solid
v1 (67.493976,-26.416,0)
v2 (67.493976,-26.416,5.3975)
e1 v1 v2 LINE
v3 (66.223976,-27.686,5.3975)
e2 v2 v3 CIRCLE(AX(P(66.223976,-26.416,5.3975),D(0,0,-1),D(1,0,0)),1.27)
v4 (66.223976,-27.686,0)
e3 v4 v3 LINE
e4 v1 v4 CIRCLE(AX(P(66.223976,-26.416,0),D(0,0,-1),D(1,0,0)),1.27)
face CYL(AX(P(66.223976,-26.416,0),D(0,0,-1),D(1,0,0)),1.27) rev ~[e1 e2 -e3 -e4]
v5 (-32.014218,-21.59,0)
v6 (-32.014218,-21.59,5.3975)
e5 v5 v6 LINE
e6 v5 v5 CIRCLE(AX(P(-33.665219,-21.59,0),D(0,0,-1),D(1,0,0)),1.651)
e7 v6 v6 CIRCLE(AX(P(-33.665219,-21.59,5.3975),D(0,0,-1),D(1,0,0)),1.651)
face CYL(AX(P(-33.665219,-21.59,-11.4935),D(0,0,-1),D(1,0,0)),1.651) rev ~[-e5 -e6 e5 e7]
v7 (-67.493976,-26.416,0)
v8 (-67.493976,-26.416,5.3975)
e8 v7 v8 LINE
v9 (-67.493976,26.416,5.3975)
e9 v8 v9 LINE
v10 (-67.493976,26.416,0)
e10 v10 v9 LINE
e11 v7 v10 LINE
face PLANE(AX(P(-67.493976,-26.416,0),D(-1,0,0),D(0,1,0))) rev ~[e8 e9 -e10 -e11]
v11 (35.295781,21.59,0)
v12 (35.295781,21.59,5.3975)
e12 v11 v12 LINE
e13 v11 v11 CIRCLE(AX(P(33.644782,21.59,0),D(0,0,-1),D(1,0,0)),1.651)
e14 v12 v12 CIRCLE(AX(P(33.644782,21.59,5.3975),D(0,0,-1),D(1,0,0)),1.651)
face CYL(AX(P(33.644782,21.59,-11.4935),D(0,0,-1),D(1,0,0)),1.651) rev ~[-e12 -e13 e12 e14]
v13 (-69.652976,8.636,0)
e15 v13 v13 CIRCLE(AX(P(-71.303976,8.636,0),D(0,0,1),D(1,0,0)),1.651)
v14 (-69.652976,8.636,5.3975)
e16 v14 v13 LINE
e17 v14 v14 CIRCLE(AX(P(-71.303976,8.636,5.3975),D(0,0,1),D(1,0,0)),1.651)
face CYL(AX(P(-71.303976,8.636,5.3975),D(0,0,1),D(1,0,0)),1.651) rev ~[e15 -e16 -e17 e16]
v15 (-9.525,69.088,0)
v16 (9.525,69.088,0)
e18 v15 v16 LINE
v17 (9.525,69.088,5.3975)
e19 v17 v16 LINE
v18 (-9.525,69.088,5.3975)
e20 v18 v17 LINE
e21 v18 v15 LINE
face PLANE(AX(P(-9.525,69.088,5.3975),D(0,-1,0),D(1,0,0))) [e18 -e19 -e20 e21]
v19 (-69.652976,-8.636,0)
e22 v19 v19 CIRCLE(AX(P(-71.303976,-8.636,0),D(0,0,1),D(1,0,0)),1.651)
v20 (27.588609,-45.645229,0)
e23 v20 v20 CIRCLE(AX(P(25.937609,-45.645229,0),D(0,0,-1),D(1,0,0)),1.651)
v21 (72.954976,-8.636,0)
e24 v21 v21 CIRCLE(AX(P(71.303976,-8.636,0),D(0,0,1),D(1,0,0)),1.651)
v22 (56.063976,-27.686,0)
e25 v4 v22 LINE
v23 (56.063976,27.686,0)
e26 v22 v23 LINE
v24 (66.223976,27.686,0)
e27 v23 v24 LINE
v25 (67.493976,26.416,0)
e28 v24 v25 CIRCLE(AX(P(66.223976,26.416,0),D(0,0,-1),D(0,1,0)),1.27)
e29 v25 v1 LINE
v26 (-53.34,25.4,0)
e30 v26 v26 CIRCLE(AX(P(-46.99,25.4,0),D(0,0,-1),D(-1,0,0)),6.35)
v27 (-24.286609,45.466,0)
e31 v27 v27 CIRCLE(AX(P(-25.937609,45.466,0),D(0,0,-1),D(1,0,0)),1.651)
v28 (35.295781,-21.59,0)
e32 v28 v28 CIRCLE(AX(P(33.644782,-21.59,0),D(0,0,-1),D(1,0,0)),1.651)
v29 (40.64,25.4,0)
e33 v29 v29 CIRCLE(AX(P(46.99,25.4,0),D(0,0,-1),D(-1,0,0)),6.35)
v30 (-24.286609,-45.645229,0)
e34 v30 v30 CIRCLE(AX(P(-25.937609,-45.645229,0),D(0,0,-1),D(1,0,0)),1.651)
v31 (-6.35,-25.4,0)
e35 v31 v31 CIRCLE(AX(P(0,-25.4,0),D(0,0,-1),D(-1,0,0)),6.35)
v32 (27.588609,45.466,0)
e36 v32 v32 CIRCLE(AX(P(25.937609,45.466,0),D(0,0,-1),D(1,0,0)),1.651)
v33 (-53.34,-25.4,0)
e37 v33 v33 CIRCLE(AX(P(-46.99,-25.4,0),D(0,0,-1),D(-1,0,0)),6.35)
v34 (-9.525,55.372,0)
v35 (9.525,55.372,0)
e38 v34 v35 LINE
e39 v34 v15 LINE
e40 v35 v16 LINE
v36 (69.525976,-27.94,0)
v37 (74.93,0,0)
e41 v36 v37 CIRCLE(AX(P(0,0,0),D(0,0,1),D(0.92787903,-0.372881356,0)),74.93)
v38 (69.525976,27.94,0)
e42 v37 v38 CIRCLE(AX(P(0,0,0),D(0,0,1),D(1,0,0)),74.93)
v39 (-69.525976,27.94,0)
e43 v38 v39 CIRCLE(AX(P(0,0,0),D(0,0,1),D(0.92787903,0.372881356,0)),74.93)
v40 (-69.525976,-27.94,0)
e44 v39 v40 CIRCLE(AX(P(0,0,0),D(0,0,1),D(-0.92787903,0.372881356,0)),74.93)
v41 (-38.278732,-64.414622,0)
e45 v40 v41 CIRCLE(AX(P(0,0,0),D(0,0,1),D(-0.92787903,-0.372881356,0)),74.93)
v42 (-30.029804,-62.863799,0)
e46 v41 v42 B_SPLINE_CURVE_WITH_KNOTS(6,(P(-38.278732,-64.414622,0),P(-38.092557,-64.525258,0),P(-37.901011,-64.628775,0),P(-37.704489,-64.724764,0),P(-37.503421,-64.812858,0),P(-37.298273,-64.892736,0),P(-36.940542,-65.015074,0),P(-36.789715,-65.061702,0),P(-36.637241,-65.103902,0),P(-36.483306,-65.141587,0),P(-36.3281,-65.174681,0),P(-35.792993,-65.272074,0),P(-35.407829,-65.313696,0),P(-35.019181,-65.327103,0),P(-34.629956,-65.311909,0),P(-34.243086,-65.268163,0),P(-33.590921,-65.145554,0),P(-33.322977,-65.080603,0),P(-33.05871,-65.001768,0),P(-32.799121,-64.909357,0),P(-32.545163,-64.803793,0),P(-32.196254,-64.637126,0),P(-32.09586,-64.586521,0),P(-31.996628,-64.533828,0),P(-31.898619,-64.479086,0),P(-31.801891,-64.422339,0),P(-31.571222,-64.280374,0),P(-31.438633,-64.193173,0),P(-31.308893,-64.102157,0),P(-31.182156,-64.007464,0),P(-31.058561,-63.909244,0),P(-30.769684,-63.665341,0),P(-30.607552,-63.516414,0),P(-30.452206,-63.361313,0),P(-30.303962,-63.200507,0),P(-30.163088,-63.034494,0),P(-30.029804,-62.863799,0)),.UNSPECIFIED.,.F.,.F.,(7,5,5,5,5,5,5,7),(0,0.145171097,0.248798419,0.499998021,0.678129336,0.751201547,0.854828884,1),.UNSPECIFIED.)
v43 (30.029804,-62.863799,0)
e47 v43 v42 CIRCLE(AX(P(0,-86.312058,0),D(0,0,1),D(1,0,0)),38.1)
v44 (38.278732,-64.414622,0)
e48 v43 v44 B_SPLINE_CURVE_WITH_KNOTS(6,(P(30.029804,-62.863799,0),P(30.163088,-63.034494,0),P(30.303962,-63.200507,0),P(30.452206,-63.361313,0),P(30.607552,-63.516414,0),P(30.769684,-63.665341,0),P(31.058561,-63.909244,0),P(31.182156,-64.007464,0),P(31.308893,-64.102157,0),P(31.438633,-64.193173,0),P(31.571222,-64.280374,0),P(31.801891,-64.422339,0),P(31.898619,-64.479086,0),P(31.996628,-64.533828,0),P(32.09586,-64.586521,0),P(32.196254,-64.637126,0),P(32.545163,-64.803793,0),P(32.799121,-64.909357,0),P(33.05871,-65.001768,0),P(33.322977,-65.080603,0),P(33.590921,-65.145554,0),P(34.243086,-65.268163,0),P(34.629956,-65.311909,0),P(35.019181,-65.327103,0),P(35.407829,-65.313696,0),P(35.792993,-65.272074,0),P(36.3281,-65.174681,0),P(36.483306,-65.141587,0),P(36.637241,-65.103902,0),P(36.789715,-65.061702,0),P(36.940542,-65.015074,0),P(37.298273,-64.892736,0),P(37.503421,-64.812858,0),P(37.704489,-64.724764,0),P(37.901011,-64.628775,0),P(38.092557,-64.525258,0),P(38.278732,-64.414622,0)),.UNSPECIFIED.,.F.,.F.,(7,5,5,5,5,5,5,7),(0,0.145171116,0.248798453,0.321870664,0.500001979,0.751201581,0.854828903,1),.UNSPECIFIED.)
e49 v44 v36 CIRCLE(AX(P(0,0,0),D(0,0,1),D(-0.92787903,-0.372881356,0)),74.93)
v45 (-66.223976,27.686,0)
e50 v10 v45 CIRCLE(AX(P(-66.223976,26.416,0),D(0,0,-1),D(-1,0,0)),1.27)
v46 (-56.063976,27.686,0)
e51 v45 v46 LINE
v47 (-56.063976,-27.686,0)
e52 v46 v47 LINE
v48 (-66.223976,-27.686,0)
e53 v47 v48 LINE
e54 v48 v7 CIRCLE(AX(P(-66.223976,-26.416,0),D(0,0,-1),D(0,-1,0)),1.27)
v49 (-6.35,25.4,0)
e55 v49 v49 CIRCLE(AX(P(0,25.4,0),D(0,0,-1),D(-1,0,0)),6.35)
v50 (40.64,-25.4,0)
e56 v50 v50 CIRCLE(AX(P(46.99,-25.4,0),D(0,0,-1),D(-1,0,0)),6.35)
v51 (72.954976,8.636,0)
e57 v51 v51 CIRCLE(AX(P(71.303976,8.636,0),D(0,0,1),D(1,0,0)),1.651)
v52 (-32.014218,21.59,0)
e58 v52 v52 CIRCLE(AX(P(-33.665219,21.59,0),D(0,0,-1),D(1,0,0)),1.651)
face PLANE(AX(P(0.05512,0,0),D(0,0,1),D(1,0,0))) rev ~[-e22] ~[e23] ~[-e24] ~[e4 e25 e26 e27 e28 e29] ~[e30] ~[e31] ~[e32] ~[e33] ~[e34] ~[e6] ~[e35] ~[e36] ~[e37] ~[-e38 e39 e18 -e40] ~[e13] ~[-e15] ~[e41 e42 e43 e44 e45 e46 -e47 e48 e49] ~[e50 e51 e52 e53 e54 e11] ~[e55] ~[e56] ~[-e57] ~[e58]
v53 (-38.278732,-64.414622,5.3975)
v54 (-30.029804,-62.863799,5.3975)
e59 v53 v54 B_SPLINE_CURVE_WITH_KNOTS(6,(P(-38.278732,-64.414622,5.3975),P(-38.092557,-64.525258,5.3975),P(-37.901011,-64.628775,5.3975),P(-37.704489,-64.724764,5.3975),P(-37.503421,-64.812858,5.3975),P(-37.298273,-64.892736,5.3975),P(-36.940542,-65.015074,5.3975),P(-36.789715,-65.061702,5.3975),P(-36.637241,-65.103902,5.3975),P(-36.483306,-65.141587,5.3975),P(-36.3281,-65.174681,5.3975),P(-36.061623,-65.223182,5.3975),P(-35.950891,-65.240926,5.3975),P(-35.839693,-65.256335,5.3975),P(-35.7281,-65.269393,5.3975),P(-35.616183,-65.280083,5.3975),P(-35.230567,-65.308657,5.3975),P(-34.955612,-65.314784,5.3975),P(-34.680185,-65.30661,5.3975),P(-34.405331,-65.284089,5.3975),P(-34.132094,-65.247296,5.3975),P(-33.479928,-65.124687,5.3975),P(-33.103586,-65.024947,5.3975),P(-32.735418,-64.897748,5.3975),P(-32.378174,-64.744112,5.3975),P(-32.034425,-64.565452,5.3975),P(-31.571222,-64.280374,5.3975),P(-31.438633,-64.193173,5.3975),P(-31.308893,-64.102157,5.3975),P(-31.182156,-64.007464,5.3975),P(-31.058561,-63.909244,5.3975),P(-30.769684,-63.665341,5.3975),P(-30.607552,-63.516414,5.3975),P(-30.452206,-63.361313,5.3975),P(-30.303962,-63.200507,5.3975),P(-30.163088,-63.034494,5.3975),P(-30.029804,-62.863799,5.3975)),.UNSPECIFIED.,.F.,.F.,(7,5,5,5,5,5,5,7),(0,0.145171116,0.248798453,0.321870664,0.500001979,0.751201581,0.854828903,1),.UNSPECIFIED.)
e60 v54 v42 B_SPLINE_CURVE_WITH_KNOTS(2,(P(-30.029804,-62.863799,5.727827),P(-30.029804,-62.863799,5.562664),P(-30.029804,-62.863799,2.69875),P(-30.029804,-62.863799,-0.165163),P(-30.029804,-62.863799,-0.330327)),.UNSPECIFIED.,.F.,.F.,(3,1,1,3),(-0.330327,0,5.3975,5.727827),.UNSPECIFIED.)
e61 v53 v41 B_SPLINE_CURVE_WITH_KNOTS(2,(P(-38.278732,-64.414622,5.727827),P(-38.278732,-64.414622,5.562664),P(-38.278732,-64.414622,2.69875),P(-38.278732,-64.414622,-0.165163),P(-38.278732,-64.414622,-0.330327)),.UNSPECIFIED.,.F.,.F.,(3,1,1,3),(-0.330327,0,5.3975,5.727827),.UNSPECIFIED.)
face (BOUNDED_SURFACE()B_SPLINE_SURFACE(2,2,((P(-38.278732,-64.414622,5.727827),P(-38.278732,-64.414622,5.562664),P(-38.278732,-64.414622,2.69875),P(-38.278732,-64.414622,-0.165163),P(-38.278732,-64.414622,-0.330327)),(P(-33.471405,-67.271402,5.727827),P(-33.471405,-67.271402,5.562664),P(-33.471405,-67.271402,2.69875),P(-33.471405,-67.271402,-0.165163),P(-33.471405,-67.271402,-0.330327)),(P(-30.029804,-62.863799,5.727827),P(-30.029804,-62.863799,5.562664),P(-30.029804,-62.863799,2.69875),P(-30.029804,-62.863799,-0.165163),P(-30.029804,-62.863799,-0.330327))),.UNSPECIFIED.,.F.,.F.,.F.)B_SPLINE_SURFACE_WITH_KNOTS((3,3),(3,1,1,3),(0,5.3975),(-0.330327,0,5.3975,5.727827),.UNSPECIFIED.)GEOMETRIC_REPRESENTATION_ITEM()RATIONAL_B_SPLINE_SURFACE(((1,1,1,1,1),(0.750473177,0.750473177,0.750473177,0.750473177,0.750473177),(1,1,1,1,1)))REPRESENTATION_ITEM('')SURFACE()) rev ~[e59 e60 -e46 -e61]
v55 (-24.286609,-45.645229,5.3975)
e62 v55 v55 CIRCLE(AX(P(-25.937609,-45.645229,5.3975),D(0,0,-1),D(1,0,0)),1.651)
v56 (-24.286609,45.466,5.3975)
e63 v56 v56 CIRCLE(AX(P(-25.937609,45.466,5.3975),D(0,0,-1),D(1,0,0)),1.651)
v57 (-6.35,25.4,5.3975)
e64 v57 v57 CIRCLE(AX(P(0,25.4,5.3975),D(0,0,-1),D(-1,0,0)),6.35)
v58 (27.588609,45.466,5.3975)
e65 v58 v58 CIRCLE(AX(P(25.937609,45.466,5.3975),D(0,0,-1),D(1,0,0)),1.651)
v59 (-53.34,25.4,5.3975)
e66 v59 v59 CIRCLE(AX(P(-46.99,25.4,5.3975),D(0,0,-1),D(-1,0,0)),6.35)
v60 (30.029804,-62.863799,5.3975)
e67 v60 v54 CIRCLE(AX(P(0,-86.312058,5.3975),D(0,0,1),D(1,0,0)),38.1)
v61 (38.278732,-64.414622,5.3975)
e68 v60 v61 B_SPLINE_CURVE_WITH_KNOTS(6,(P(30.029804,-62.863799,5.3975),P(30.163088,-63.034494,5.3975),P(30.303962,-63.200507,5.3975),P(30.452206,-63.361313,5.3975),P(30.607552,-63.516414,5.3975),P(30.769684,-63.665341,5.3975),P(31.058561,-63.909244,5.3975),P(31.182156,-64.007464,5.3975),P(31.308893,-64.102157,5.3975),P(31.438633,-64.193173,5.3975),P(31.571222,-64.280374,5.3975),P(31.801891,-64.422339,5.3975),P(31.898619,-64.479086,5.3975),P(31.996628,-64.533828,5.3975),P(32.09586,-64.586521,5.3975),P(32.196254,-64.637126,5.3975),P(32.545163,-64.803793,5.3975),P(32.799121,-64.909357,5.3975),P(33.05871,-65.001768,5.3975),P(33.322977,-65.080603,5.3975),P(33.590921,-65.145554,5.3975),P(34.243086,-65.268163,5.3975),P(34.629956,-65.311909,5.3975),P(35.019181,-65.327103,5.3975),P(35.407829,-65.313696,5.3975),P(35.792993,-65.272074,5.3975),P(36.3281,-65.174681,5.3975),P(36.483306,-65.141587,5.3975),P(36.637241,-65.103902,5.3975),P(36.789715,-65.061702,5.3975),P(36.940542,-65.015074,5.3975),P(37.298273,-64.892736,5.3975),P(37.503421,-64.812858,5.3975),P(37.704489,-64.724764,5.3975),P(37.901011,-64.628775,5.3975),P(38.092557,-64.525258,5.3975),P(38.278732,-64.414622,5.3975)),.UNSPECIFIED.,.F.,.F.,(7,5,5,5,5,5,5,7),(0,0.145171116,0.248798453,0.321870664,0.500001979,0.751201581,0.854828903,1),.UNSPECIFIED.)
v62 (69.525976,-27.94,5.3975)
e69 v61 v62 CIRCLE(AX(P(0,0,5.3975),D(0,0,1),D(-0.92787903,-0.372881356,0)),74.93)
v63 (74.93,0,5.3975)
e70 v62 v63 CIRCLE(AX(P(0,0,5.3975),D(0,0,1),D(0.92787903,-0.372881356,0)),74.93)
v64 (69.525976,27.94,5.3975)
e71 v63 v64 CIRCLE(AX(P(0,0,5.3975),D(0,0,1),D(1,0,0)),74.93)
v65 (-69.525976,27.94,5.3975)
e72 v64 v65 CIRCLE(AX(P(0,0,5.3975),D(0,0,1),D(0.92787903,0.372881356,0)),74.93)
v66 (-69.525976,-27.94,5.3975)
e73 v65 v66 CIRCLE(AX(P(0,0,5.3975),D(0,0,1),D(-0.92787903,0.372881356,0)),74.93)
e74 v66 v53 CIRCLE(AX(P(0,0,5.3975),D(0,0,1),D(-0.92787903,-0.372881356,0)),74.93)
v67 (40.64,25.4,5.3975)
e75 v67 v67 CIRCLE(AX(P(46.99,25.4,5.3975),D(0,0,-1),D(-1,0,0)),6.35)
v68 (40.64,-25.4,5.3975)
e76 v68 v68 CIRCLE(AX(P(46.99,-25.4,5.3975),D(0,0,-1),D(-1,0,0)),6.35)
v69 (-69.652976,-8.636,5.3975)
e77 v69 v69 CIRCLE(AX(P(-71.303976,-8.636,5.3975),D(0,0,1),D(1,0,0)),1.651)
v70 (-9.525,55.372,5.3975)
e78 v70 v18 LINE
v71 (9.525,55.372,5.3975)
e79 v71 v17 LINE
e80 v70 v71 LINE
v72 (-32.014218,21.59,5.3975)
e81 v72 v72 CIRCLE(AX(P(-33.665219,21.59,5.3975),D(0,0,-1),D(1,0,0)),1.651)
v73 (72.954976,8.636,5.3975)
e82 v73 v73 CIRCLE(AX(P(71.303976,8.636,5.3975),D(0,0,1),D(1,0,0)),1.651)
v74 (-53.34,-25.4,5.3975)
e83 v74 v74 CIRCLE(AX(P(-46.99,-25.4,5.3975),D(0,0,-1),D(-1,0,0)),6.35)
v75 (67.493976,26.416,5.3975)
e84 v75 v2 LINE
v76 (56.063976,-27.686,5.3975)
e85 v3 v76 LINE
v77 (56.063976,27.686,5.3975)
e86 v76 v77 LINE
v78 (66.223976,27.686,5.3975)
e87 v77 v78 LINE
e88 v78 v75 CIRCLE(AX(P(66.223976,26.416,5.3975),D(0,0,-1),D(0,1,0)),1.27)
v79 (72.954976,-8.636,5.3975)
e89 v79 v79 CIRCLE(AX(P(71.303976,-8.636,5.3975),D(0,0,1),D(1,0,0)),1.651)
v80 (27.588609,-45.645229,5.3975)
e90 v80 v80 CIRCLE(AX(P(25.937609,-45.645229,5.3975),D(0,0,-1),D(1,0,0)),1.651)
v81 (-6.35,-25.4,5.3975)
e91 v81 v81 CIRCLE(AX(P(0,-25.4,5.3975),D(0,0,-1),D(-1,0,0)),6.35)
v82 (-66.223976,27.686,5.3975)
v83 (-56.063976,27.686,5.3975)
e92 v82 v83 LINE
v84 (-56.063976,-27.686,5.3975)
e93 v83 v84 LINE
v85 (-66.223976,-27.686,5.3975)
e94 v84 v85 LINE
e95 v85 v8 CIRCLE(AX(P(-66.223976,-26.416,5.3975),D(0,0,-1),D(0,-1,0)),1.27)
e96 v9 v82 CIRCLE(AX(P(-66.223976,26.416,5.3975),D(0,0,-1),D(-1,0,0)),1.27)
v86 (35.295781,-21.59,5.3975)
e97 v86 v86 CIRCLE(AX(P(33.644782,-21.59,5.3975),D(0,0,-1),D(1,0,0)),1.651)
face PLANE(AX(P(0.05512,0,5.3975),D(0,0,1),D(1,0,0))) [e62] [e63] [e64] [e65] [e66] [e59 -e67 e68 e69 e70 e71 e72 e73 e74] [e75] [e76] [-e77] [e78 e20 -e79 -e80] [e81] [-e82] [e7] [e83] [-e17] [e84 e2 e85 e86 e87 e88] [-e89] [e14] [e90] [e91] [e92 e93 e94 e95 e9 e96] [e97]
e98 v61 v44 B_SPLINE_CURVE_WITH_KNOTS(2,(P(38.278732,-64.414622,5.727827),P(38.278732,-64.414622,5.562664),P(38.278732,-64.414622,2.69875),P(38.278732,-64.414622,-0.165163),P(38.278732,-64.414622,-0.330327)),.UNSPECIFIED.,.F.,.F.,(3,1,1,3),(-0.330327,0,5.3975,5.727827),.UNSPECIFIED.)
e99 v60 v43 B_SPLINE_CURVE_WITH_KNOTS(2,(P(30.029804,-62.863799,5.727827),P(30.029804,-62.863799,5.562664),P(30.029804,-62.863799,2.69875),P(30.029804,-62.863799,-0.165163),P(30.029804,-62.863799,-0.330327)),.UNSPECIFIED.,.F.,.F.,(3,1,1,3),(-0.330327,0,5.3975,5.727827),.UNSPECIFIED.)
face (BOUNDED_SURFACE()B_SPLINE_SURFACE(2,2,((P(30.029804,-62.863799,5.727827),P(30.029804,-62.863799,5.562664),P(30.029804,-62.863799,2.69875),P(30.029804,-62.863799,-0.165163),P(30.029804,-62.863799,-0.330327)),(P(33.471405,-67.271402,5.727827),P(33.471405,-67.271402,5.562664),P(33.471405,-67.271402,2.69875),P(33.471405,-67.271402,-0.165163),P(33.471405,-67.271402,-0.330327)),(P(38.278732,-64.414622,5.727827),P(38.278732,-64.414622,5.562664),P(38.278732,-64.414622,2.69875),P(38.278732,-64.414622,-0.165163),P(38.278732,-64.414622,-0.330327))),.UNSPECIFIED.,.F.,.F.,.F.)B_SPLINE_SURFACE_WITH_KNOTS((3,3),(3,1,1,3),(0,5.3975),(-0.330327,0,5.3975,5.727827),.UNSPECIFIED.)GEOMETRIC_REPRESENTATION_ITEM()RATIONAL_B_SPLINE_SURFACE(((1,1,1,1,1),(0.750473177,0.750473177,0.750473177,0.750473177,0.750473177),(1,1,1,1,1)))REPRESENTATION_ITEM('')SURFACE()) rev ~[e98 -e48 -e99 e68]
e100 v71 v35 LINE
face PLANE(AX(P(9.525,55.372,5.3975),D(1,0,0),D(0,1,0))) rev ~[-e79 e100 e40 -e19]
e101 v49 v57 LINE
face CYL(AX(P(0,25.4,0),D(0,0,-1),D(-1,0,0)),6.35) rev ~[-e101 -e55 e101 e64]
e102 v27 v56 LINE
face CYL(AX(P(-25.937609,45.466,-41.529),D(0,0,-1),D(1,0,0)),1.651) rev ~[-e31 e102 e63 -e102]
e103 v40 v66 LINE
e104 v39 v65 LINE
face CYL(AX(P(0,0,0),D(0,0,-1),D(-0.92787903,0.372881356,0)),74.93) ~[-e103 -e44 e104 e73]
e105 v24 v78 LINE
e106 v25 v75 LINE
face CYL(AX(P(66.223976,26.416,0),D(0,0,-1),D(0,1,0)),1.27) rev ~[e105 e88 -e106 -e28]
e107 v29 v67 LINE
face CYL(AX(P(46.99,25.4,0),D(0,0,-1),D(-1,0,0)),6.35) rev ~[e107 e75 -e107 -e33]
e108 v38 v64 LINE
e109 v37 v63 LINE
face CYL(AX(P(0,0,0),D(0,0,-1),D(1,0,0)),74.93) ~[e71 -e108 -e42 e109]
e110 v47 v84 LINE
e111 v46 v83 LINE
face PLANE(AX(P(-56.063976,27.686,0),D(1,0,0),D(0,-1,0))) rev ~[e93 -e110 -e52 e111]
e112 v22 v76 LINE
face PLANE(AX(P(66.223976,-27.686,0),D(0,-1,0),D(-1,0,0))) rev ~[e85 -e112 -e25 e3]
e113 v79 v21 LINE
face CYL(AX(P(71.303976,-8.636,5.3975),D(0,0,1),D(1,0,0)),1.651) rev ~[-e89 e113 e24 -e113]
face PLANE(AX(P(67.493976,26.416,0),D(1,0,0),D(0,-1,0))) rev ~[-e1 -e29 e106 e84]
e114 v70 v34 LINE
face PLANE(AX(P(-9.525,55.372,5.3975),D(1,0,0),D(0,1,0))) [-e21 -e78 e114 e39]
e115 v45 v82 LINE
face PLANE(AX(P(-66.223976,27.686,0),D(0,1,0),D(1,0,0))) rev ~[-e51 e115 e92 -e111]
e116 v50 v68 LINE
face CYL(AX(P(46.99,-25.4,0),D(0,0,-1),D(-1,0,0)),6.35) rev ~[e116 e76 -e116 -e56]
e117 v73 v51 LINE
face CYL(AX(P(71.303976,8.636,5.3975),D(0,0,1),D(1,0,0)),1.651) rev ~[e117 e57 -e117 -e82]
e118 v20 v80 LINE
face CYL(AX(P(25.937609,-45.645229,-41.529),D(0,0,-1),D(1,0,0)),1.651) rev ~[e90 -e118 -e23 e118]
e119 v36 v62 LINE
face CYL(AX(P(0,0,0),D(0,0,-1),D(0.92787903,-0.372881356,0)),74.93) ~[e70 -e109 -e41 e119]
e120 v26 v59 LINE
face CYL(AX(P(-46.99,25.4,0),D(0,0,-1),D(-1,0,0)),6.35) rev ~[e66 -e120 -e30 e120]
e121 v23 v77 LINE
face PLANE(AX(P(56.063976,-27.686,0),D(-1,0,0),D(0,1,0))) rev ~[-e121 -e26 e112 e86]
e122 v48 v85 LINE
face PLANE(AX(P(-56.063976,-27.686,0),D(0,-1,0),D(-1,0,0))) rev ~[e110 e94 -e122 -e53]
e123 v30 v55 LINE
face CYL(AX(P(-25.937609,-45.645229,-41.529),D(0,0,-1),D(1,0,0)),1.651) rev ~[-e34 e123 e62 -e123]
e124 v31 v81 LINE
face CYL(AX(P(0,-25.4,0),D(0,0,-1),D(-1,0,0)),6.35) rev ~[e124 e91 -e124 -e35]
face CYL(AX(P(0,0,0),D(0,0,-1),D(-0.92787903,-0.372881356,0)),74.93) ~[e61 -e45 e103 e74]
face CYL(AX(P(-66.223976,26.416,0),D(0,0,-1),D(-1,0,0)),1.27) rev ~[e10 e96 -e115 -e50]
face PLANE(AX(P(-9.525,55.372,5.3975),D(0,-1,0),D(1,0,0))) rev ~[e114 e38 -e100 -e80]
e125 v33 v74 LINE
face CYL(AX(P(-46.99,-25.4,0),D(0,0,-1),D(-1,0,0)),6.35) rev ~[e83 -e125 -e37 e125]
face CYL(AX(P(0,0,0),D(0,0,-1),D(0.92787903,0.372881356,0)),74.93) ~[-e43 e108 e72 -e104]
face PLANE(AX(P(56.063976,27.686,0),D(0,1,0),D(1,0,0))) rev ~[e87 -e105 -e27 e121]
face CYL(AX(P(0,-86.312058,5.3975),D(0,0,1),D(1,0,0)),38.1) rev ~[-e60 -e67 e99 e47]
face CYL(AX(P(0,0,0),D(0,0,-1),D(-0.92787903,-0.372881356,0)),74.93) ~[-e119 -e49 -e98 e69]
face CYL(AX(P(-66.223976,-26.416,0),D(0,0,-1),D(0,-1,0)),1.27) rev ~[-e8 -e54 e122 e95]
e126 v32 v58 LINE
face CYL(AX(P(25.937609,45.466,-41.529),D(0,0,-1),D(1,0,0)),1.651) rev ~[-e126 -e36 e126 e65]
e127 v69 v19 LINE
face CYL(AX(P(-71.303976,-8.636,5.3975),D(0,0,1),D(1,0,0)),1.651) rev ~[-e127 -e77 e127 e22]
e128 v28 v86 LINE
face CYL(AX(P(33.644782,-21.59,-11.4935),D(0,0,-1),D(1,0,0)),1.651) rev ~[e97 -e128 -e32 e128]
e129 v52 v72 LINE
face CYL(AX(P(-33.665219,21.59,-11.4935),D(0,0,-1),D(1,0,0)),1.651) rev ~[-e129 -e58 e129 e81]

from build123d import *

# Parameters (mm, degrees)
BOSS_EXTRUDE2_DEPTH      = 5.3975
SKETCH2_W                = 19.05
SKETCH2_H                = 13.716
CUT_EXTRUDE1_DEPTH       = 107.104395791
SKETCH3_R                = 38.1
CUT_EXTRUDE2_DEPTH       = 107.104395791
FILLET1_R                = 6.35
SKETCH8_R                = 1.651
CUT_EXTRUDE7_DEPTH       = 75.692
SKETCH10_R               = 1.651
CUT_EXTRUDE9_DEPTH       = 97.79
SKETCH11_R               = 1.651
CUT_EXTRUDE10_DEPTH      = 150.876
SKETCH12_R               = 3.175
CUT_EXTRUDE11_DEPTH      = 103.378
CUT_EXTRUDE11_DEPTH_BACK = 48.768
SKETCH13_R               = 6.35
CUT_EXTRUDE12_DEPTH      = 26.416


with BuildPart() as part:
    # Sketch1 → Boss-Extrude2 (new body)
    with BuildSketch(Plane.XY):
        with BuildLine():
            ThreePointArc((-69.525975721, 27.94), (-74.93, 0), (-69.525975721, -27.94))
            ThreePointArc((-69.525975721, -27.94), (0, -74.93), (69.525975721, -27.94))
            ThreePointArc((69.525975721, -27.94), (73.56658977, -14.228906128), (74.93, 0))
            ThreePointArc((74.93, 0), (73.56658977, 14.228906128), (69.525975721, 27.94))
            ThreePointArc((69.525975721, 27.94), (0, 74.93), (-69.525975721, 27.94))
        make_face()
        with BuildLine():
            ThreePointArc((-67.493975721, 26.416), (-67.122001333, 27.314025612), (-66.223975721, 27.686))
            Line((-66.223975721, 27.686), (-56.063975721, 27.686))
            Line((-56.063975721, 27.686), (-56.063975721, -27.686))
            Line((-56.063975721, -27.686), (-66.223975721, -27.686))
            ThreePointArc((-66.223975721, -27.686), (-67.122001333, -27.314025612), (-67.493975721, -26.416))
            Line((-67.493975721, -26.416), (-67.493975721, 26.416))
        make_face(mode=Mode.SUBTRACT)
        with BuildLine():
            ThreePointArc((66.223975721, 27.686), (67.122001333, 27.314025612), (67.493975721, 26.416))
            Line((67.493975721, 26.416), (67.493975721, -26.416))
            ThreePointArc((67.493975721, -26.416), (67.122001333, -27.314025612), (66.223975721, -27.686))
            Line((66.223975721, -27.686), (56.063975721, -27.686))
            Line((56.063975721, -27.686), (56.063975721, 27.686))
            Line((56.063975721, 27.686), (66.223975721, 27.686))
        make_face(mode=Mode.SUBTRACT)
    extrude(amount=BOSS_EXTRUDE2_DEPTH)

    # Sketch2 → Cut-Extrude1 (cut, through all)
    with BuildSketch(Plane.XY.offset(5.3975)):
        with Locations((0, 62.23)):
            Rectangle(SKETCH2_W, SKETCH2_H)
    extrude(amount=-CUT_EXTRUDE1_DEPTH, mode=Mode.SUBTRACT)

    # Sketch3 → Cut-Extrude2 (cut, through all)
    with BuildSketch(Plane.XY.offset(5.3975)):
        with Locations((0, -86.312058398)):
            Circle(SKETCH3_R)
    extrude(amount=-CUT_EXTRUDE2_DEPTH, mode=Mode.SUBTRACT)

    # Fillet1
    fillet1_edges = [part.edges().sort_by_distance(p)[0] for p in [
        (-33.000960548, -67.271401821, 2.69875),
        (33.000960548, -67.271401821, 2.69875),
    ]]
    fillet(fillet1_edges, radius=FILLET1_R)

    # Sketch8 → Cut-Extrude7 (cut)
    with BuildSketch(Plane(origin=(30.092005081, 4.08352975, -11.4935), x_dir=(-1, 0, 0), z_dir=(0, 0, -1))):
        with Locations(Location((63.757223581, 17.50647025, 0), (0, 0, 180))):
            Circle(SKETCH8_R)
        with Locations(Location((63.757223581, -25.67352975, 0), (0, 0, 180))):
            Circle(SKETCH8_R)
        with Locations(Location((-3.552776419, -25.67352975, 0), (0, 0, 180))):
            Circle(SKETCH8_R)
        with Locations(Location((-3.552776419, 17.50647025, 0), (0, 0, 180))):
            Circle(SKETCH8_R)
    extrude(amount=-CUT_EXTRUDE7_DEPTH, mode=Mode.SUBTRACT)

    # Sketch10 → Cut-Extrude9 (cut)
    with BuildSketch(Plane(origin=(30.092005081, 4.08352975, -41.529), x_dir=(-1, 0, 0), z_dir=(0, 0, -1))):
        with Locations(Location((4.154396091, -49.728759131, 0), (0, 0, 180))):
            Circle(SKETCH10_R)
        with Locations(Location((56.02961407, -49.728759131, 0), (0, 0, 180))):
            Circle(SKETCH10_R)
        with Locations(Location((4.154396091, 41.38247025, 0), (0, 0, 180))):
            Circle(SKETCH10_R)
        with Locations(Location((56.02961407, 41.38247025, 0), (0, 0, 180))):
            Circle(SKETCH10_R)
    extrude(amount=-CUT_EXTRUDE9_DEPTH, mode=Mode.SUBTRACT)

    # Sketch11 → Cut-Extrude10 (cut)
    with BuildSketch(Plane(origin=(30.092005081, 4.08352975, 5.3975), x_dir=(1, 0, 0), z_dir=(0, 0, 1))):
        with Locations((-101.395980802, -12.71952975)):
            Circle(SKETCH11_R)
        with Locations((-101.395980802, 4.55247025)):
            Circle(SKETCH11_R)
        with Locations((41.211970641, -12.71952975)):
            Circle(SKETCH11_R)
        with Locations((41.211970641, 4.55247025)):
            Circle(SKETCH11_R)
    extrude(amount=-CUT_EXTRUDE10_DEPTH, mode=Mode.SUBTRACT)

    # Sketch12 → Cut-Extrude11 (cut, two sides)
    with BuildSketch(Plane(origin=(30.092005081, 4.08352975, -5.3975), x_dir=(-1, 0, 0), z_dir=(0, 0, -1))) as cut_extrude11_sk:
        with Locations(Location((-16.897994919, 21.31647025, 0), (0, 0, 180))):
            Circle(SKETCH12_R)
        with Locations(Location((77.082005081, 21.31647025, 0), (0, 0, 180))):
            Circle(SKETCH12_R)
        with Locations(Location((30.092005081, 21.31647025, 0), (0, 0, 180))):
            Circle(SKETCH12_R)
        with Locations(Location((77.082005081, -29.48352975, 0), (0, 0, 180))):
            Circle(SKETCH12_R)
        with Locations(Location((30.092005081, -29.48352975, 0), (0, 0, 180))):
            Circle(SKETCH12_R)
        with Locations(Location((-16.897994919, -29.48352975, 0), (0, 0, 180))):
            Circle(SKETCH12_R)
    extrude(amount=CUT_EXTRUDE11_DEPTH, mode=Mode.SUBTRACT)
    extrude(cut_extrude11_sk.sketch, amount=-CUT_EXTRUDE11_DEPTH_BACK, mode=Mode.SUBTRACT)

    # Sketch13 → Cut-Extrude12 (cut)
    with BuildSketch(Plane(origin=(0, 0, 0), x_dir=(-1, 0, 0), z_dir=(0, 0, -1))):
        with Locations((46.99, 25.4)):
            Circle(SKETCH13_R)
        with Locations((0, 25.4)):
            Circle(SKETCH13_R)
        with Locations((-46.99, 25.4)):
            Circle(SKETCH13_R)
        with Locations((-46.99, -25.4)):
            Circle(SKETCH13_R)
        with Locations((0, -25.4)):
            Circle(SKETCH13_R)
        with Locations((46.99, -25.4)):
            Circle(SKETCH13_R)
    extrude(amount=-CUT_EXTRUDE12_DEPTH, mode=Mode.SUBTRACT)


solid = part.part
